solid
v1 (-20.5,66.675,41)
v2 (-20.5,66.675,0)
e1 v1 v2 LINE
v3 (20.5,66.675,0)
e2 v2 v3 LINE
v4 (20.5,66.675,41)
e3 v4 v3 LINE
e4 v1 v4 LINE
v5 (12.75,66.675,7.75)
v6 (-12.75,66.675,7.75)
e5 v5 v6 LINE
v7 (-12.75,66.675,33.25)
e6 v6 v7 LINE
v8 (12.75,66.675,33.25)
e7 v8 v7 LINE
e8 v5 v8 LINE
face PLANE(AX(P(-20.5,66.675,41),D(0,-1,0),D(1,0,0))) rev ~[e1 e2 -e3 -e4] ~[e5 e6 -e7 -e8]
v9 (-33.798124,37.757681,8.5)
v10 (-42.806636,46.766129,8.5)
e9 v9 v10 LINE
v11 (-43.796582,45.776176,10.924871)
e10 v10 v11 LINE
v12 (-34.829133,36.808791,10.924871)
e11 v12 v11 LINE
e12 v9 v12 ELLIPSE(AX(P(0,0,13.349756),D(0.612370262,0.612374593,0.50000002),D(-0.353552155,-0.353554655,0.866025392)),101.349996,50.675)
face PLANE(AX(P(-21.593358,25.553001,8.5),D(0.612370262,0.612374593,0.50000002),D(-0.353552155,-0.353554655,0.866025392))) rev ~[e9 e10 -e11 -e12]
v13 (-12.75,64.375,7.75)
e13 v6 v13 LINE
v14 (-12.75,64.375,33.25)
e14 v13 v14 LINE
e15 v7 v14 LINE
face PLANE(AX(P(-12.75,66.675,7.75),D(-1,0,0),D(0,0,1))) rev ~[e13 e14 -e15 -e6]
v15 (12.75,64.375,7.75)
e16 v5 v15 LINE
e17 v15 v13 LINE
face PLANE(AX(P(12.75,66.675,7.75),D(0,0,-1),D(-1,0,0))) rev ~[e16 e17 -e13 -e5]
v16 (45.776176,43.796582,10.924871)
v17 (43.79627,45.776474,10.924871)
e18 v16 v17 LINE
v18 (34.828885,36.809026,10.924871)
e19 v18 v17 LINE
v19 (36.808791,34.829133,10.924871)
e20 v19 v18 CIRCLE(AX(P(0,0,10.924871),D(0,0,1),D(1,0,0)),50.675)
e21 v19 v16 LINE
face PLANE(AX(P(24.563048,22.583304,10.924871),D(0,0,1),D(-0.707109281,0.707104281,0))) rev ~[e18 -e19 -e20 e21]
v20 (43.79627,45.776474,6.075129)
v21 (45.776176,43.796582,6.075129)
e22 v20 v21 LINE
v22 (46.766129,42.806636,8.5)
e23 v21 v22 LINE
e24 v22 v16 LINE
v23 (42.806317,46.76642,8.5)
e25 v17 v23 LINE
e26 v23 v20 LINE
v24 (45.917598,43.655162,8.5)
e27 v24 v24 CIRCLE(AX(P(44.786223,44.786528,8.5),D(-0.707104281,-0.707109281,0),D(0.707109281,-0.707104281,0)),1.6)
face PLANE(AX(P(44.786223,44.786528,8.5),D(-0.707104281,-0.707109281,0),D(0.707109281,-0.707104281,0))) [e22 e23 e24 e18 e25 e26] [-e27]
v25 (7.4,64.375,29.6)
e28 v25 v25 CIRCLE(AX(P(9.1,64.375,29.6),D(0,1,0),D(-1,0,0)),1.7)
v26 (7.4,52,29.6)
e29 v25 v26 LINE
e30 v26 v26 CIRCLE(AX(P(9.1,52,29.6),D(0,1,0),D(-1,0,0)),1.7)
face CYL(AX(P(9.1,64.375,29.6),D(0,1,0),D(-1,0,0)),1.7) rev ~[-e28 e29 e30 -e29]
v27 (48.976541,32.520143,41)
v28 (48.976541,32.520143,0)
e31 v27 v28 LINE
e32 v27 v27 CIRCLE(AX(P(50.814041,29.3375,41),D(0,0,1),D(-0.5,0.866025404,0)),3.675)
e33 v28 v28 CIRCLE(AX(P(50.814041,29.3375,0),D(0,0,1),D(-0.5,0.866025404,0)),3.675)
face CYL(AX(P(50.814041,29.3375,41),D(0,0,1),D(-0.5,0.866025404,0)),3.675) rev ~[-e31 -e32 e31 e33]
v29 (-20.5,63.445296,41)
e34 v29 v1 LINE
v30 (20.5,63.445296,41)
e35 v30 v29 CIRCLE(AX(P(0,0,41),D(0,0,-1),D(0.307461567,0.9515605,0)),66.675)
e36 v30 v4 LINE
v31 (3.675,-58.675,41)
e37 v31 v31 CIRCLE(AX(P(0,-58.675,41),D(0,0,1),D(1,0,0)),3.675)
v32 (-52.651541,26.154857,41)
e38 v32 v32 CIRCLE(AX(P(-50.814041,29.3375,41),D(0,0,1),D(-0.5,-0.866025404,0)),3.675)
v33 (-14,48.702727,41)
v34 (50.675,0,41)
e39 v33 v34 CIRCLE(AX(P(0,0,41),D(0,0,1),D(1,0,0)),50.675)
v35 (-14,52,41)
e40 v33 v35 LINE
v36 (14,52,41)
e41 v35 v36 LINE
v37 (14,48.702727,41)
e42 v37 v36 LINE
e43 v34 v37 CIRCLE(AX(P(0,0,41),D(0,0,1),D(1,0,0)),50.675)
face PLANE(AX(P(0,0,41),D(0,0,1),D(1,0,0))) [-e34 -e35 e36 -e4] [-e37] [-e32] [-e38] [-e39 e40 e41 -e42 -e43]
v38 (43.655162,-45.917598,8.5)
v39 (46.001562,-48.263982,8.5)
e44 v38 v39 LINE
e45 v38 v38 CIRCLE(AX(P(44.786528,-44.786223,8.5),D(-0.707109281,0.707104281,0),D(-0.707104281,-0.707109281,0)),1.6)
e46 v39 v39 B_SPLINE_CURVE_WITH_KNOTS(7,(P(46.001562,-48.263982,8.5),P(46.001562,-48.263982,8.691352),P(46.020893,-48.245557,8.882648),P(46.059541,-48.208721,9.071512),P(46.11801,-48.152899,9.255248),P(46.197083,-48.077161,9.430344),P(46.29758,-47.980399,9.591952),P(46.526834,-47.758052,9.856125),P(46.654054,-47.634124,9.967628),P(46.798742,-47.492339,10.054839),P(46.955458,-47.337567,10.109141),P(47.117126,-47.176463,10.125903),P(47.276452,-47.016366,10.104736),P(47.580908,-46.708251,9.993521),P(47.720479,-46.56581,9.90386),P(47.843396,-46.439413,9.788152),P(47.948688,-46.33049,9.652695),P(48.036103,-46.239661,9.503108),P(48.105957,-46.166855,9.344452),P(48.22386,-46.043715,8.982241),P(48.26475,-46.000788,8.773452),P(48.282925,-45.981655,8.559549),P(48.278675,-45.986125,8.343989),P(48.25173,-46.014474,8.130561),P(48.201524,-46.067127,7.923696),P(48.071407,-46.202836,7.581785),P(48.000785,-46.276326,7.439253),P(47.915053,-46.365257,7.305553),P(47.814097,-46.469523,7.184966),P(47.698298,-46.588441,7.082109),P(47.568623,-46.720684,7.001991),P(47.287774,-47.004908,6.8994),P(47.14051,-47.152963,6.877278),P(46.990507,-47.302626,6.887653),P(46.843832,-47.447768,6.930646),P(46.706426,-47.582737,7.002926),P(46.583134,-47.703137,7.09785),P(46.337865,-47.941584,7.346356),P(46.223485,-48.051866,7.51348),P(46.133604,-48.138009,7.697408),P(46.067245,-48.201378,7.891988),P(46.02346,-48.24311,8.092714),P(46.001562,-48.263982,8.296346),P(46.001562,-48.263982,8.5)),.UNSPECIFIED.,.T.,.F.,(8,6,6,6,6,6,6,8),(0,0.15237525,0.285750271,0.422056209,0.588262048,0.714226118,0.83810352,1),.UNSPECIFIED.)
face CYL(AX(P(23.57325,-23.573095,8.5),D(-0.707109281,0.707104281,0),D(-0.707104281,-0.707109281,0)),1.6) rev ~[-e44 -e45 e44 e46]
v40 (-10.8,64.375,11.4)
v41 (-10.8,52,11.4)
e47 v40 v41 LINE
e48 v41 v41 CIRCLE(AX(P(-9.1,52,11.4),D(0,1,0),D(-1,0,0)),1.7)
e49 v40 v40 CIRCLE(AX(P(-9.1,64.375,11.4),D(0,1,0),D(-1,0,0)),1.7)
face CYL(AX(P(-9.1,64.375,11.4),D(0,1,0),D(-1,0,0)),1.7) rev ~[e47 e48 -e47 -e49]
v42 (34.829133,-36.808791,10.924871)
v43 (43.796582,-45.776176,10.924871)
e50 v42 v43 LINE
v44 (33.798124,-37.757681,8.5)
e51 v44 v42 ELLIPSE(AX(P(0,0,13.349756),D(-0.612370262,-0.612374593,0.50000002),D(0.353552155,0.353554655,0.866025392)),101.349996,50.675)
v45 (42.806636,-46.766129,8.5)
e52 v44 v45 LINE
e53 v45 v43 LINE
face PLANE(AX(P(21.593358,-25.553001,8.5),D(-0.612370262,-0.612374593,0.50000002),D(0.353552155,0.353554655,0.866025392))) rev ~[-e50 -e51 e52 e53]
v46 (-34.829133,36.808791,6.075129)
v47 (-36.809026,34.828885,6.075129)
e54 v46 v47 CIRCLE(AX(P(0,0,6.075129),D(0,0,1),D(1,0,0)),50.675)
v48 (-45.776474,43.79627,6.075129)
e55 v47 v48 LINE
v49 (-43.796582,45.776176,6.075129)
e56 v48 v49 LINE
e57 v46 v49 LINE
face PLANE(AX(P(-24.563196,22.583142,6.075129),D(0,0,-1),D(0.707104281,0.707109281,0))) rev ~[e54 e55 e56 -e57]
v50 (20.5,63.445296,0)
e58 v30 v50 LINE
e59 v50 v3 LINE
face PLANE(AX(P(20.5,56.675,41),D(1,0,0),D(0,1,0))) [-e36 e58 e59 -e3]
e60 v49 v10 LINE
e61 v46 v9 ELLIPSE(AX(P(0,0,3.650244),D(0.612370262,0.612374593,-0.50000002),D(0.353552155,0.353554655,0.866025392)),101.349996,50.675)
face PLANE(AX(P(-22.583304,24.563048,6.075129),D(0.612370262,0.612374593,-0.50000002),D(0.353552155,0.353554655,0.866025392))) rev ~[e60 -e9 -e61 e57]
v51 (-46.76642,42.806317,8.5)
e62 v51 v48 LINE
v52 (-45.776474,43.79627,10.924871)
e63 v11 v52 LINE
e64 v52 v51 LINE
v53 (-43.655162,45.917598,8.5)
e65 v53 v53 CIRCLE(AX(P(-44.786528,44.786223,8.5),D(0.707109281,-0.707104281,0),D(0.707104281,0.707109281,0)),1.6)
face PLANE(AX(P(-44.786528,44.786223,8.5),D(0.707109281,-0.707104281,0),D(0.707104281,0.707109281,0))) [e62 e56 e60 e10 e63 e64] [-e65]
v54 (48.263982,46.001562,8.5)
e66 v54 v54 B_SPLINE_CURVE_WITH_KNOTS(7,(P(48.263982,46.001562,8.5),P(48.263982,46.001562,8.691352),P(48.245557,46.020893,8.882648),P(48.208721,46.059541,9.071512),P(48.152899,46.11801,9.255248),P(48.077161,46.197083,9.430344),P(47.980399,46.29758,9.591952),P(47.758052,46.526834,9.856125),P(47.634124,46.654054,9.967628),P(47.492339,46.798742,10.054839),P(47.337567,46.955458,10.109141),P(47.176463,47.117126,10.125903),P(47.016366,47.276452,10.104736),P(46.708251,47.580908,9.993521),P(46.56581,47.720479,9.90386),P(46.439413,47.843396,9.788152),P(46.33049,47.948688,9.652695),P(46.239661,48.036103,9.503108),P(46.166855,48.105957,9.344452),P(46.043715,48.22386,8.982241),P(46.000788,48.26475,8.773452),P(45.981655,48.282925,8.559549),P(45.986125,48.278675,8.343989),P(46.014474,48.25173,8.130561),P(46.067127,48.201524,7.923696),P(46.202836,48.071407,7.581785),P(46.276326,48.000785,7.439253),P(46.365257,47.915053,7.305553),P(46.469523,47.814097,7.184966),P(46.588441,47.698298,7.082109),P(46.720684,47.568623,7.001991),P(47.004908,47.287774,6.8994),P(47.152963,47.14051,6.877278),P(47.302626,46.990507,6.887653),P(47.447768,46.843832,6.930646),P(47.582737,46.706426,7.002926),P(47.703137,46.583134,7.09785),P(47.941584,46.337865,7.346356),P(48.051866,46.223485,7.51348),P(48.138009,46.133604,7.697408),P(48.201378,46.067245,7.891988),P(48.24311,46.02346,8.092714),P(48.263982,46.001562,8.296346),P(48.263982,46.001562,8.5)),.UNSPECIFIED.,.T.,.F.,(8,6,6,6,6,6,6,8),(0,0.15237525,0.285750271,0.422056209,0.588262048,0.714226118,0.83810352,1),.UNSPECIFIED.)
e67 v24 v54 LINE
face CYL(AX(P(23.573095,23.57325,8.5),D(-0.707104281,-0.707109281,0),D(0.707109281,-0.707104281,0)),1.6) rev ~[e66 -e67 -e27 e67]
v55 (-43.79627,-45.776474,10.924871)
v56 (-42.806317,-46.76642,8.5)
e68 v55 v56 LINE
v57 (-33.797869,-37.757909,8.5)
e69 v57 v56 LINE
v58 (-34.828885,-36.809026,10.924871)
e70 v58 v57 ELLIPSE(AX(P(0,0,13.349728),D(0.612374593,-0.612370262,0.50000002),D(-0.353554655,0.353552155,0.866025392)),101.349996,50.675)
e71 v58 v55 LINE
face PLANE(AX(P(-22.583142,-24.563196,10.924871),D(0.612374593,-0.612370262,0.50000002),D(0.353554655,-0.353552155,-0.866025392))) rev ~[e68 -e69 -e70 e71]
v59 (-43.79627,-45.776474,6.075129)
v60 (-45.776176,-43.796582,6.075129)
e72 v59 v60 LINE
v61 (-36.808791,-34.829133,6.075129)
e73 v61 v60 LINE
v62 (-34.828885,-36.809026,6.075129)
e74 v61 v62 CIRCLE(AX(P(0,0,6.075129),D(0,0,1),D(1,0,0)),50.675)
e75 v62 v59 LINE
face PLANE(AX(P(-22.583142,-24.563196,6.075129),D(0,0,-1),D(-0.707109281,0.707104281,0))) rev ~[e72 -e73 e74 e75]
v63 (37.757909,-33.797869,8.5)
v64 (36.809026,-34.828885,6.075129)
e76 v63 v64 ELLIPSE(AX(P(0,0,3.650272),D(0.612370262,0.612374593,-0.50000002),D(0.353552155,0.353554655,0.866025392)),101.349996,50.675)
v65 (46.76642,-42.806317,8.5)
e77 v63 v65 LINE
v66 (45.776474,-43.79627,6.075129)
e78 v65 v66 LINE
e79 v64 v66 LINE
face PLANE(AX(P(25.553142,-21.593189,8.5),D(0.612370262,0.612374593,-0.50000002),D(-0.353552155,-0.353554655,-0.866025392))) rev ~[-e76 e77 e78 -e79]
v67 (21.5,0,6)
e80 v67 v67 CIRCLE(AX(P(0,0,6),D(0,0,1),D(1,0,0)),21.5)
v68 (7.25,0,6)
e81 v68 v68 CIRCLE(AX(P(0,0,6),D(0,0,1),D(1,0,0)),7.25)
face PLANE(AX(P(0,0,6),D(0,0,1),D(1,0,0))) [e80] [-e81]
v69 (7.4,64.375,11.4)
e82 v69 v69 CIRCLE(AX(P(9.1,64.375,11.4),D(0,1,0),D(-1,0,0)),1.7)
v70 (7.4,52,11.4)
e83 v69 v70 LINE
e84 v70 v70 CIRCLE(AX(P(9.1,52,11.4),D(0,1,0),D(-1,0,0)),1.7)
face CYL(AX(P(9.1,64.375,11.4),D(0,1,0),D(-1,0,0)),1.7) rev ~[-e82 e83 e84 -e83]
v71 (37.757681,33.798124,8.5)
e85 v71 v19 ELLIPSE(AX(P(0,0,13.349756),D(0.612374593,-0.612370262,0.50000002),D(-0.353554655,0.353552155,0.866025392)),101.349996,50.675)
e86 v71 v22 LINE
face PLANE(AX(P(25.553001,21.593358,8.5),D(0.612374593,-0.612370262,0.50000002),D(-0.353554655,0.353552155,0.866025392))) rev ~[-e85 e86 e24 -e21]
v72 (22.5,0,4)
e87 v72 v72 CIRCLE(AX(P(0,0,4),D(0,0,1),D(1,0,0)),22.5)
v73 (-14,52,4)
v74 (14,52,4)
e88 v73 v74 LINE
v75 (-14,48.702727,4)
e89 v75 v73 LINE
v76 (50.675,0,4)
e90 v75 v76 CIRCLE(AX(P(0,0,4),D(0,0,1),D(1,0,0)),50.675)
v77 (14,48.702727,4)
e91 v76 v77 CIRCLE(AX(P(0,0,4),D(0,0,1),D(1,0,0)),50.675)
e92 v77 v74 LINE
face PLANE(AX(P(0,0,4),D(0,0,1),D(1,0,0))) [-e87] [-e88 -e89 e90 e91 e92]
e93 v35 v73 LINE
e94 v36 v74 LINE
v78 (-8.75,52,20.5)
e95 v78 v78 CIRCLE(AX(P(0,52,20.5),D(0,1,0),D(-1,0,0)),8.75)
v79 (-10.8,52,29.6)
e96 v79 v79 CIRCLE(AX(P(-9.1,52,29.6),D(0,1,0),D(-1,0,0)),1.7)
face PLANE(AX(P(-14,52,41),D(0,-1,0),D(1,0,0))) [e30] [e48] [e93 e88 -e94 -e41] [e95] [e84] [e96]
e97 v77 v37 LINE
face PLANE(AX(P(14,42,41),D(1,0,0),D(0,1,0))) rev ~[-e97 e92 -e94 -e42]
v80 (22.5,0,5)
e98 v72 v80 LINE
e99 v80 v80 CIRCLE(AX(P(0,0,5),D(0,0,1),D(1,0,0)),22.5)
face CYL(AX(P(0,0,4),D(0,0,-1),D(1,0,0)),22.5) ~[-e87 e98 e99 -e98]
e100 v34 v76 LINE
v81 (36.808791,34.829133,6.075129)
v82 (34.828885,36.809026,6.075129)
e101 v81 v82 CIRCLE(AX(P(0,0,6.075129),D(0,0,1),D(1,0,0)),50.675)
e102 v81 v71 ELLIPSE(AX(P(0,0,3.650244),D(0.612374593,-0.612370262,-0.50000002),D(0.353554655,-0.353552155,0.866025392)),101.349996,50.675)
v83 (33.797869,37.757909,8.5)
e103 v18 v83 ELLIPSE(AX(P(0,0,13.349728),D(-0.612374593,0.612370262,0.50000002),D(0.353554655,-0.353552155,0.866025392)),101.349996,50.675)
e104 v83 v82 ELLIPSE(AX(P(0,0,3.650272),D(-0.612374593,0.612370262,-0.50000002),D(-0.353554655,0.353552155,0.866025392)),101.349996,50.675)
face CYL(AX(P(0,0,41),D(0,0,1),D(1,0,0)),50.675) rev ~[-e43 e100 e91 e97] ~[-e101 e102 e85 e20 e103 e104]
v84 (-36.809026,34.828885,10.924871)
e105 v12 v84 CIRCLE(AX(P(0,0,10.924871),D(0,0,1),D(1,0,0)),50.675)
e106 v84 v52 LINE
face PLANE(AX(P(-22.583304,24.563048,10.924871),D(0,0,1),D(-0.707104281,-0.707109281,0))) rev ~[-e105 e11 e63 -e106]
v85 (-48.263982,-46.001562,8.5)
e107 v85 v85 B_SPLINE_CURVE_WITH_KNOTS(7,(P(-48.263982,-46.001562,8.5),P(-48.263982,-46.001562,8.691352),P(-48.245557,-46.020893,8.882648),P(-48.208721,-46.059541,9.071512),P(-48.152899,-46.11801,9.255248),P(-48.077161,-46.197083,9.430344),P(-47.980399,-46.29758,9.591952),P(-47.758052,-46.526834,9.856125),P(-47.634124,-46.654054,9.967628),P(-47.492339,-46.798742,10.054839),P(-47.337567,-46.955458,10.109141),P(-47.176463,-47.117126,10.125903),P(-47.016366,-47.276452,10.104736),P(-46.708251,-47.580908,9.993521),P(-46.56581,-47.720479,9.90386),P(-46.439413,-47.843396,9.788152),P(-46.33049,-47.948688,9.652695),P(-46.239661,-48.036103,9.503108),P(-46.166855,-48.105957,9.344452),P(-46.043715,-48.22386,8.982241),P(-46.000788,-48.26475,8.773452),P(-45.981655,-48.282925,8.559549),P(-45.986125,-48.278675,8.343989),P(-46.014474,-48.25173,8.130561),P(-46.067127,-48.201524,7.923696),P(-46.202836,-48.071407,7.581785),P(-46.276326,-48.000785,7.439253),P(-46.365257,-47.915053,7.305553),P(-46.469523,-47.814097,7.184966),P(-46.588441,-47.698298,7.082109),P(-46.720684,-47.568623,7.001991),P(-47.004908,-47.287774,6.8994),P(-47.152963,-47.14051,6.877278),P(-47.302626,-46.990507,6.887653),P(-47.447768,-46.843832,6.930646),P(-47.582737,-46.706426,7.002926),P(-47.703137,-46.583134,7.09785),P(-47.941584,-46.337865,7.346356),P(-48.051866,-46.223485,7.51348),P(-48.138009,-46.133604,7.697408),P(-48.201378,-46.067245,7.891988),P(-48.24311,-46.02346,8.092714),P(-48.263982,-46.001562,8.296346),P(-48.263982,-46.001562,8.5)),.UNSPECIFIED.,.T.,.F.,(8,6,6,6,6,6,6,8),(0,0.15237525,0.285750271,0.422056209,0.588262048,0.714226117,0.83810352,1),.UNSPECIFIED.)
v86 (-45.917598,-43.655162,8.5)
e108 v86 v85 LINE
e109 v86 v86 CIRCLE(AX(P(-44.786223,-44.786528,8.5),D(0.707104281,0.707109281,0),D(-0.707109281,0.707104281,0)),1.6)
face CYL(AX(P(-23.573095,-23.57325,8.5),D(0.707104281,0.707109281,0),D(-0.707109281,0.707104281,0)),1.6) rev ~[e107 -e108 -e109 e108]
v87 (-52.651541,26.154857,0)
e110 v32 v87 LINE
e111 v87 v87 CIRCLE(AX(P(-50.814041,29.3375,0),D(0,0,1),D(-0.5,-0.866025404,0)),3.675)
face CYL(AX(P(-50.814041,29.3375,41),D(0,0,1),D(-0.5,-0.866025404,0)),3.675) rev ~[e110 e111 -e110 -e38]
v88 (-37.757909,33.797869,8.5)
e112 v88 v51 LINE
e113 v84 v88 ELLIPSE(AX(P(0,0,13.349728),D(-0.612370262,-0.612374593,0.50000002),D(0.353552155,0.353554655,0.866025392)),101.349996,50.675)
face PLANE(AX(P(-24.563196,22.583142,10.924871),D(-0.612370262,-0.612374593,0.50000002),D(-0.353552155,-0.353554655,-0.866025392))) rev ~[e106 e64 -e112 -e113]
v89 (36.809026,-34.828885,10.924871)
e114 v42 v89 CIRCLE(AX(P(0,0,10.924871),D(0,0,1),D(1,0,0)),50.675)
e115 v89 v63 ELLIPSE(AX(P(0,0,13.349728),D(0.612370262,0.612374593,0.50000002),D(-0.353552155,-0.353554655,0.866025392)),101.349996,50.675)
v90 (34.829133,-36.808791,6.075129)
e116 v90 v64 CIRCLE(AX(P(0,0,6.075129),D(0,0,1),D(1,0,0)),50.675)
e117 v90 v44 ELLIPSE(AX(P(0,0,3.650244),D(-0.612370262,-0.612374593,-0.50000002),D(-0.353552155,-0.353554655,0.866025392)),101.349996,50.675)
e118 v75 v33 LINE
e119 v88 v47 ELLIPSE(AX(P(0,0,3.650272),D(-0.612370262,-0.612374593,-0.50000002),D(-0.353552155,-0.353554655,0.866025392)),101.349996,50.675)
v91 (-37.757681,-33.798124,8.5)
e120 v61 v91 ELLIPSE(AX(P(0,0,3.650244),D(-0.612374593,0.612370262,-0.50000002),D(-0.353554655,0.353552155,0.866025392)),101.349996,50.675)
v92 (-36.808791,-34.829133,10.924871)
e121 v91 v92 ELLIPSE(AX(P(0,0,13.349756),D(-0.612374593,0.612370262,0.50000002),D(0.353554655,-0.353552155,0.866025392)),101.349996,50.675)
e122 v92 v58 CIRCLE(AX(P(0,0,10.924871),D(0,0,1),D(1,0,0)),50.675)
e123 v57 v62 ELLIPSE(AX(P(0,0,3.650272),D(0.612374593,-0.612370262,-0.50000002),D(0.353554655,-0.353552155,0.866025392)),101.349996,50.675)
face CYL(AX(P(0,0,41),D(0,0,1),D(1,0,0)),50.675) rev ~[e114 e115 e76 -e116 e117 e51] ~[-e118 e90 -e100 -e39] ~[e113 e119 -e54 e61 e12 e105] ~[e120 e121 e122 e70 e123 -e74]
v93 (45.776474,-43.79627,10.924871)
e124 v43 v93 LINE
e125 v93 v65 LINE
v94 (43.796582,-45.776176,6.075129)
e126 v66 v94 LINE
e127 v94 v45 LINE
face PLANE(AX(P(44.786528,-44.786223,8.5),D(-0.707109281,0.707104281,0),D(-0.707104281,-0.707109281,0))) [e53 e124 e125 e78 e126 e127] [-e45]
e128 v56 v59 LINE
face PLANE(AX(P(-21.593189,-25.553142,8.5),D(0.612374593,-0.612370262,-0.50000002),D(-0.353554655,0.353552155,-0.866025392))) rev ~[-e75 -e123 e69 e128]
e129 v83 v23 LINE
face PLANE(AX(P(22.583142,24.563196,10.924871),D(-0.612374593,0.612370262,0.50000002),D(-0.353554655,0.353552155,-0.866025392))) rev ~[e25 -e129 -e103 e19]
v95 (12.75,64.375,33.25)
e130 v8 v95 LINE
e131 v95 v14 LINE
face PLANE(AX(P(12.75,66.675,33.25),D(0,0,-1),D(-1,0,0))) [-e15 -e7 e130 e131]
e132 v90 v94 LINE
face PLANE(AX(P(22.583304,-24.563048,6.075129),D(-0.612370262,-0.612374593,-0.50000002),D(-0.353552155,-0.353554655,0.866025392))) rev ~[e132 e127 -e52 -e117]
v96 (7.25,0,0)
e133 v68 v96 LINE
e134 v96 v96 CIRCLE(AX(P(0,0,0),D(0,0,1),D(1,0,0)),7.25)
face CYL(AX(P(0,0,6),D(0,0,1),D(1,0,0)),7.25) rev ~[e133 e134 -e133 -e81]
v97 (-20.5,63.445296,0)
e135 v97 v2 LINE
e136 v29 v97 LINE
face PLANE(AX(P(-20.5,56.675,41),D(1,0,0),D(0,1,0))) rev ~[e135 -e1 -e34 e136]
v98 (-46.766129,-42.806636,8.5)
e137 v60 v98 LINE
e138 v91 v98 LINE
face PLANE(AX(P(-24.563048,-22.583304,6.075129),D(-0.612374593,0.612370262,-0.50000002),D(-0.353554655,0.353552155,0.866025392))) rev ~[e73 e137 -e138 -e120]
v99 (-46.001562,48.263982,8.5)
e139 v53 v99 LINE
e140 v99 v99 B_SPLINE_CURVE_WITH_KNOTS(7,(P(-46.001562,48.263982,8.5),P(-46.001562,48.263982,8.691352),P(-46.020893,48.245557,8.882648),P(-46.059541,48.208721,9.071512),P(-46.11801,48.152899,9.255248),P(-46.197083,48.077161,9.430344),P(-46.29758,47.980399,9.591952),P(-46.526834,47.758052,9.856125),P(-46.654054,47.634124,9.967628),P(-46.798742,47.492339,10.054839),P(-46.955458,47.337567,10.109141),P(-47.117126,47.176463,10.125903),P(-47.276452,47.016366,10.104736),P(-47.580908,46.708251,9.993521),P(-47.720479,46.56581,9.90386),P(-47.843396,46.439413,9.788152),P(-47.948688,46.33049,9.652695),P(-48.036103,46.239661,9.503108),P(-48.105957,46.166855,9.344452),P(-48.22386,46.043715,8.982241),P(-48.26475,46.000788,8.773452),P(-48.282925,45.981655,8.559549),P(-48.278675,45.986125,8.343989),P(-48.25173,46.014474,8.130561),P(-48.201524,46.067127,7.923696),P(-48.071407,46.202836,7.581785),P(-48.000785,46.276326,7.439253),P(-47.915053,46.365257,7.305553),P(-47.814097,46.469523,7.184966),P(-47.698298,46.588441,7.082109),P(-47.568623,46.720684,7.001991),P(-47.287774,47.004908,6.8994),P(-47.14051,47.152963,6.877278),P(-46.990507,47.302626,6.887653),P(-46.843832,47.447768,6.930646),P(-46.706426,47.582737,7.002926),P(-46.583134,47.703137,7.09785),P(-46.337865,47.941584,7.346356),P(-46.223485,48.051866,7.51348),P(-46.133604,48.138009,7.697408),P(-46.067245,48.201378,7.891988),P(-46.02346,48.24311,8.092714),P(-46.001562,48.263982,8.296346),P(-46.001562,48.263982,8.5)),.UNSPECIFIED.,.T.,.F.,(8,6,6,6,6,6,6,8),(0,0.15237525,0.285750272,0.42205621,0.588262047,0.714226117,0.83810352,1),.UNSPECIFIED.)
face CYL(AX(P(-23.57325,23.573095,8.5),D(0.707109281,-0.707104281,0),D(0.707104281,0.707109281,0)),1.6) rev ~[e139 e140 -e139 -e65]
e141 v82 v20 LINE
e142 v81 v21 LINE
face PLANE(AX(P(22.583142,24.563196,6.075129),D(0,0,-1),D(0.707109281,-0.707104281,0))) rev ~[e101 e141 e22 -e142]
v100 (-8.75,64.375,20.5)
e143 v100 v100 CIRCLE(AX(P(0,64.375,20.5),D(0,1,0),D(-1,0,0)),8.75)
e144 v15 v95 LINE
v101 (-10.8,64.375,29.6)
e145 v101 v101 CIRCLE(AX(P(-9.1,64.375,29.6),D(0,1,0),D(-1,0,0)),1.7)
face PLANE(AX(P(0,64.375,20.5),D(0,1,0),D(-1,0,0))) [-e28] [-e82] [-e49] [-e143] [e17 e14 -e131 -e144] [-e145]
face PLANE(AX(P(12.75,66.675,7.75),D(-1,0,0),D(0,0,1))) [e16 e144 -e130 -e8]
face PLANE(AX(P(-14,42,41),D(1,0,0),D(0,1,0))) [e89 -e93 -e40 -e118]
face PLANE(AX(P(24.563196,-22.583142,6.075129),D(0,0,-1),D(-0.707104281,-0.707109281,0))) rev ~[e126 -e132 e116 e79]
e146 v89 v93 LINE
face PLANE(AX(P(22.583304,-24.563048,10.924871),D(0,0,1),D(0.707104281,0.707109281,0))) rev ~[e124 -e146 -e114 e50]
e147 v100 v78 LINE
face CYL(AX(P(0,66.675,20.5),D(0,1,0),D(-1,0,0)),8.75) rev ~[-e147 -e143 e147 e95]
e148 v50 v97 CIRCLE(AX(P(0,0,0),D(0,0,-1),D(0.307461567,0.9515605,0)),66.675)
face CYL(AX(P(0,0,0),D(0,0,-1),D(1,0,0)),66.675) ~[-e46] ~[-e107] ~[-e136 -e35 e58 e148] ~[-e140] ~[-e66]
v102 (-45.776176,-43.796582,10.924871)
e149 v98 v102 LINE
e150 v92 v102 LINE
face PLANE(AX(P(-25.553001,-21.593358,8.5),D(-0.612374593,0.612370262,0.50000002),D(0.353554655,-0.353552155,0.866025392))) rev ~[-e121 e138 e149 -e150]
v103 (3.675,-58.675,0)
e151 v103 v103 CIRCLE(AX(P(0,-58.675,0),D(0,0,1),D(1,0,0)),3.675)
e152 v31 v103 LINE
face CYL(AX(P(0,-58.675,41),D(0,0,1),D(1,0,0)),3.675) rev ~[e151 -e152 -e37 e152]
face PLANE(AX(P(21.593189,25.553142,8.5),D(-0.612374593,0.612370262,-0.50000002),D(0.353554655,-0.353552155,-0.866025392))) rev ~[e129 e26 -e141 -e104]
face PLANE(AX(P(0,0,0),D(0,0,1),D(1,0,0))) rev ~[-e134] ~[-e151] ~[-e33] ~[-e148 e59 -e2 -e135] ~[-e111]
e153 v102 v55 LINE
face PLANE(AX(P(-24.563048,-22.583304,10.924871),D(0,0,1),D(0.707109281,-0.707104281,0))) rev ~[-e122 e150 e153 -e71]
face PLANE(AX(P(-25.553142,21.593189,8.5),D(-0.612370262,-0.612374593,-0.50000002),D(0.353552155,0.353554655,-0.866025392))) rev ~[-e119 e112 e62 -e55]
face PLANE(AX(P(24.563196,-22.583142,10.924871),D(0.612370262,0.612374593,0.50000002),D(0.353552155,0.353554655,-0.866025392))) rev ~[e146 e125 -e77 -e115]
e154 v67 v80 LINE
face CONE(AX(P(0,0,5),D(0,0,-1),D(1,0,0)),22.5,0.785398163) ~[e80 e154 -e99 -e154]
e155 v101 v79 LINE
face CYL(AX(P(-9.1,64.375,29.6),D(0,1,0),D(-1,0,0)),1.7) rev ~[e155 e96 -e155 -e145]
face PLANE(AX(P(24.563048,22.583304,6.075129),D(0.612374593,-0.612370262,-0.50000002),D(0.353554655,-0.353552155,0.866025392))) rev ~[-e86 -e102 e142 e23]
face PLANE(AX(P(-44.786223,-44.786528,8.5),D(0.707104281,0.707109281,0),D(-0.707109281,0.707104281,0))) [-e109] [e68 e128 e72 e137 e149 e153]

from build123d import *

# Parameters (mm, degrees)
SKETCH031_R           = 66.675
PAD006_DEPTH          = 41
SKETCH032_W           = 41
SKETCH032_H           = 10
PAD007_DEPTH          = 41
SKETCH033_R           = 8.75
POCKET048_DEPTH       = 16
SKETCH034_W           = 25.5
SKETCH034_H           = 25.5
POCKET049_DEPTH       = 2.3
SKETCH035_R           = 1.7
POCKET050_DEPTH       = 16
POCKET051_DEPTH       = 37
SKETCH037_R           = 1.6
POCKET052_DEPTH       = 446.937769
POLARPATTERN017_COUNT = 4
POCKET053_DEPTH       = 30
POLARPATTERN018_COUNT = 4
SKETCH040_R           = 50.675
POCKET054_DEPTH       = 37
SKETCH041_R           = 3.675
POCKET055_DEPTH       = 426.98258
POLARPATTERN019_COUNT = 3
SKETCH042_R           = 22.5
PAD013_DEPTH          = 2
SKETCH044_R           = 7.25
POCKET056_DEPTH       = 6.001
SKETCH045_W           = 28
SKETCH045_H           = 10
POCKET057_DEPTH       = 37
CHAMFER008_SIZE       = 1


with BuildPart() as part:
    # Sketch031 → Pad006 (new body)
    with BuildSketch(Plane.XY):
        Circle(SKETCH031_R)
    extrude(amount=PAD006_DEPTH)

    # Sketch032 (on Face3 of Pad006) → Pad007 (join)
    with BuildSketch(Plane.XY.offset(41)):
        with Locations((0, 61.675)):
            Rectangle(SKETCH032_W, SKETCH032_H)
    extrude(amount=-PAD007_DEPTH)

    # Sketch033 (on Face8 of Pad007) → Pocket048 (cut)
    with BuildSketch(Plane(origin=(0, 66.675, 0), x_dir=(-1, 0, 0), z_dir=(0, 1, 0))):
        with Locations((0, 20.5)):
            Circle(SKETCH033_R)
    extrude(amount=-POCKET048_DEPTH, mode=Mode.SUBTRACT)

    # Sketch034 (on Face8 of Pocket048) → Pocket049 (cut)
    with BuildSketch(Plane(origin=(0, 66.675, 0), x_dir=(-1, 0, 0), z_dir=(0, 1, 0))):
        with Locations((0, 20.5)):
            Rectangle(SKETCH034_W, SKETCH034_H)
    extrude(amount=-POCKET049_DEPTH, mode=Mode.SUBTRACT)

    # Sketch035 (on Face19 of Pocket049) → Pocket050 (cut)
    with BuildSketch(Plane(origin=(0, 64.375, 0), x_dir=(-1, 0, 0), z_dir=(0, 1, 0))):
        with Locations((-9.1, 29.6)):
            Circle(SKETCH035_R)
        with Locations((9.1, 29.6)):
            Circle(SKETCH035_R)
        with Locations((9.1, 11.4)):
            Circle(SKETCH035_R)
        with Locations((-9.1, 11.4)):
            Circle(SKETCH035_R)
    extrude(amount=-POCKET050_DEPTH, mode=Mode.SUBTRACT)

    # Sketch036 → Pocket051 (cut)
    with BuildSketch(Plane.XY.offset(41)):
        Polygon((0, 47.1465), (-47.146189, 0), (0, -47.1465), (47.146189, 0), align=None)
    extrude(amount=-POCKET051_DEPTH, mode=Mode.SUBTRACT)

    # Sketch037 (on Face13 of Pocket051) → Pocket052 (cut, through all)
    with BuildSketch(Plane(origin=(23.57325, -23.573095, 0), x_dir=(-0.707104, -0.707109, 0), z_dir=(-0.707109, 0.707104, 0))):
        with Locations((0, 8.5)):
            Circle(SKETCH037_R)
    pocket052 = extrude(amount=-POCKET052_DEPTH, mode=Mode.SUBTRACT)

    # PolarPattern017: Pocket052 ×4 about axis
    polarpattern017_axis = Axis((0, 0, 0), (0, 0, 1))
    for i in range(1, POLARPATTERN017_COUNT):
        add(pocket052.rotate(polarpattern017_axis, i * 360 / POLARPATTERN017_COUNT), mode=Mode.SUBTRACT)

    # Sketch039 (on Face18 of PolarPattern017) → Pocket053 (cut)
    with BuildSketch(Plane(origin=(23.57325, -23.573095, 0), x_dir=(-0.707104, -0.707109, 0), z_dir=(-0.707109, 0.707104, 0))):
        Polygon((2.8, 8.5), (1.4, 10.924871), (-1.4, 10.924871), (-2.8, 8.5), (-1.4, 6.075129), (1.4, 6.075129), align=None)
    pocket053 = extrude(amount=-POCKET053_DEPTH, mode=Mode.SUBTRACT)

    # PolarPattern018: Pocket053 ×4 about axis
    polarpattern018_axis = Axis((0, 0, 0), (0, 0, 1))
    for i in range(1, POLARPATTERN018_COUNT):
        add(pocket053.rotate(polarpattern018_axis, i * 360 / POLARPATTERN018_COUNT), mode=Mode.SUBTRACT)

    # Sketch040 → Pocket054 (cut)
    with BuildSketch(Plane.XY.offset(41)):
        Circle(SKETCH040_R)
    extrude(amount=-POCKET054_DEPTH, mode=Mode.SUBTRACT)

    # Sketch041 → Pocket055 (cut, through all)
    with BuildSketch(Plane.XY.offset(41)):
        with Locations((0, -58.675)):
            Circle(SKETCH041_R)
    pocket055 = extrude(amount=-POCKET055_DEPTH, mode=Mode.SUBTRACT)

    # PolarPattern019: Pocket055 ×3 about axis
    polarpattern019_axis = Axis((0, 0, 41), (0, 0, 1))
    for i in range(1, POLARPATTERN019_COUNT):
        add(pocket055.rotate(polarpattern019_axis, i * 360 / POLARPATTERN019_COUNT), mode=Mode.SUBTRACT)

    # Sketch042 (on Face61 of PolarPattern019) → Pad013 (join)
    with BuildSketch(Plane.XY.offset(4)):
        Circle(SKETCH042_R)
    extrude(amount=PAD013_DEPTH)

    # Sketch044 (on Face66 of Pad013) → Pocket056 (cut, through all)
    with BuildSketch(Plane.XY.offset(6)):
        Circle(SKETCH044_R)
    extrude(amount=-POCKET056_DEPTH, mode=Mode.SUBTRACT)

    # Sketch045 (on Face5 of Pocket056) → Pocket057 (cut)
    with BuildSketch(Plane.XY.offset(41)):
        with Locations((0, 47)):
            Rectangle(SKETCH045_W, SKETCH045_H)
    extrude(amount=-POCKET057_DEPTH, mode=Mode.SUBTRACT)

    # Chamfer008
    chamfer008_edges = [part.edges().sort_by_distance(p)[0] for p in [
        (-22.5, 0, 6),
    ]]
    chamfer(chamfer008_edges, length=CHAMFER008_SIZE)


solid = part.part
